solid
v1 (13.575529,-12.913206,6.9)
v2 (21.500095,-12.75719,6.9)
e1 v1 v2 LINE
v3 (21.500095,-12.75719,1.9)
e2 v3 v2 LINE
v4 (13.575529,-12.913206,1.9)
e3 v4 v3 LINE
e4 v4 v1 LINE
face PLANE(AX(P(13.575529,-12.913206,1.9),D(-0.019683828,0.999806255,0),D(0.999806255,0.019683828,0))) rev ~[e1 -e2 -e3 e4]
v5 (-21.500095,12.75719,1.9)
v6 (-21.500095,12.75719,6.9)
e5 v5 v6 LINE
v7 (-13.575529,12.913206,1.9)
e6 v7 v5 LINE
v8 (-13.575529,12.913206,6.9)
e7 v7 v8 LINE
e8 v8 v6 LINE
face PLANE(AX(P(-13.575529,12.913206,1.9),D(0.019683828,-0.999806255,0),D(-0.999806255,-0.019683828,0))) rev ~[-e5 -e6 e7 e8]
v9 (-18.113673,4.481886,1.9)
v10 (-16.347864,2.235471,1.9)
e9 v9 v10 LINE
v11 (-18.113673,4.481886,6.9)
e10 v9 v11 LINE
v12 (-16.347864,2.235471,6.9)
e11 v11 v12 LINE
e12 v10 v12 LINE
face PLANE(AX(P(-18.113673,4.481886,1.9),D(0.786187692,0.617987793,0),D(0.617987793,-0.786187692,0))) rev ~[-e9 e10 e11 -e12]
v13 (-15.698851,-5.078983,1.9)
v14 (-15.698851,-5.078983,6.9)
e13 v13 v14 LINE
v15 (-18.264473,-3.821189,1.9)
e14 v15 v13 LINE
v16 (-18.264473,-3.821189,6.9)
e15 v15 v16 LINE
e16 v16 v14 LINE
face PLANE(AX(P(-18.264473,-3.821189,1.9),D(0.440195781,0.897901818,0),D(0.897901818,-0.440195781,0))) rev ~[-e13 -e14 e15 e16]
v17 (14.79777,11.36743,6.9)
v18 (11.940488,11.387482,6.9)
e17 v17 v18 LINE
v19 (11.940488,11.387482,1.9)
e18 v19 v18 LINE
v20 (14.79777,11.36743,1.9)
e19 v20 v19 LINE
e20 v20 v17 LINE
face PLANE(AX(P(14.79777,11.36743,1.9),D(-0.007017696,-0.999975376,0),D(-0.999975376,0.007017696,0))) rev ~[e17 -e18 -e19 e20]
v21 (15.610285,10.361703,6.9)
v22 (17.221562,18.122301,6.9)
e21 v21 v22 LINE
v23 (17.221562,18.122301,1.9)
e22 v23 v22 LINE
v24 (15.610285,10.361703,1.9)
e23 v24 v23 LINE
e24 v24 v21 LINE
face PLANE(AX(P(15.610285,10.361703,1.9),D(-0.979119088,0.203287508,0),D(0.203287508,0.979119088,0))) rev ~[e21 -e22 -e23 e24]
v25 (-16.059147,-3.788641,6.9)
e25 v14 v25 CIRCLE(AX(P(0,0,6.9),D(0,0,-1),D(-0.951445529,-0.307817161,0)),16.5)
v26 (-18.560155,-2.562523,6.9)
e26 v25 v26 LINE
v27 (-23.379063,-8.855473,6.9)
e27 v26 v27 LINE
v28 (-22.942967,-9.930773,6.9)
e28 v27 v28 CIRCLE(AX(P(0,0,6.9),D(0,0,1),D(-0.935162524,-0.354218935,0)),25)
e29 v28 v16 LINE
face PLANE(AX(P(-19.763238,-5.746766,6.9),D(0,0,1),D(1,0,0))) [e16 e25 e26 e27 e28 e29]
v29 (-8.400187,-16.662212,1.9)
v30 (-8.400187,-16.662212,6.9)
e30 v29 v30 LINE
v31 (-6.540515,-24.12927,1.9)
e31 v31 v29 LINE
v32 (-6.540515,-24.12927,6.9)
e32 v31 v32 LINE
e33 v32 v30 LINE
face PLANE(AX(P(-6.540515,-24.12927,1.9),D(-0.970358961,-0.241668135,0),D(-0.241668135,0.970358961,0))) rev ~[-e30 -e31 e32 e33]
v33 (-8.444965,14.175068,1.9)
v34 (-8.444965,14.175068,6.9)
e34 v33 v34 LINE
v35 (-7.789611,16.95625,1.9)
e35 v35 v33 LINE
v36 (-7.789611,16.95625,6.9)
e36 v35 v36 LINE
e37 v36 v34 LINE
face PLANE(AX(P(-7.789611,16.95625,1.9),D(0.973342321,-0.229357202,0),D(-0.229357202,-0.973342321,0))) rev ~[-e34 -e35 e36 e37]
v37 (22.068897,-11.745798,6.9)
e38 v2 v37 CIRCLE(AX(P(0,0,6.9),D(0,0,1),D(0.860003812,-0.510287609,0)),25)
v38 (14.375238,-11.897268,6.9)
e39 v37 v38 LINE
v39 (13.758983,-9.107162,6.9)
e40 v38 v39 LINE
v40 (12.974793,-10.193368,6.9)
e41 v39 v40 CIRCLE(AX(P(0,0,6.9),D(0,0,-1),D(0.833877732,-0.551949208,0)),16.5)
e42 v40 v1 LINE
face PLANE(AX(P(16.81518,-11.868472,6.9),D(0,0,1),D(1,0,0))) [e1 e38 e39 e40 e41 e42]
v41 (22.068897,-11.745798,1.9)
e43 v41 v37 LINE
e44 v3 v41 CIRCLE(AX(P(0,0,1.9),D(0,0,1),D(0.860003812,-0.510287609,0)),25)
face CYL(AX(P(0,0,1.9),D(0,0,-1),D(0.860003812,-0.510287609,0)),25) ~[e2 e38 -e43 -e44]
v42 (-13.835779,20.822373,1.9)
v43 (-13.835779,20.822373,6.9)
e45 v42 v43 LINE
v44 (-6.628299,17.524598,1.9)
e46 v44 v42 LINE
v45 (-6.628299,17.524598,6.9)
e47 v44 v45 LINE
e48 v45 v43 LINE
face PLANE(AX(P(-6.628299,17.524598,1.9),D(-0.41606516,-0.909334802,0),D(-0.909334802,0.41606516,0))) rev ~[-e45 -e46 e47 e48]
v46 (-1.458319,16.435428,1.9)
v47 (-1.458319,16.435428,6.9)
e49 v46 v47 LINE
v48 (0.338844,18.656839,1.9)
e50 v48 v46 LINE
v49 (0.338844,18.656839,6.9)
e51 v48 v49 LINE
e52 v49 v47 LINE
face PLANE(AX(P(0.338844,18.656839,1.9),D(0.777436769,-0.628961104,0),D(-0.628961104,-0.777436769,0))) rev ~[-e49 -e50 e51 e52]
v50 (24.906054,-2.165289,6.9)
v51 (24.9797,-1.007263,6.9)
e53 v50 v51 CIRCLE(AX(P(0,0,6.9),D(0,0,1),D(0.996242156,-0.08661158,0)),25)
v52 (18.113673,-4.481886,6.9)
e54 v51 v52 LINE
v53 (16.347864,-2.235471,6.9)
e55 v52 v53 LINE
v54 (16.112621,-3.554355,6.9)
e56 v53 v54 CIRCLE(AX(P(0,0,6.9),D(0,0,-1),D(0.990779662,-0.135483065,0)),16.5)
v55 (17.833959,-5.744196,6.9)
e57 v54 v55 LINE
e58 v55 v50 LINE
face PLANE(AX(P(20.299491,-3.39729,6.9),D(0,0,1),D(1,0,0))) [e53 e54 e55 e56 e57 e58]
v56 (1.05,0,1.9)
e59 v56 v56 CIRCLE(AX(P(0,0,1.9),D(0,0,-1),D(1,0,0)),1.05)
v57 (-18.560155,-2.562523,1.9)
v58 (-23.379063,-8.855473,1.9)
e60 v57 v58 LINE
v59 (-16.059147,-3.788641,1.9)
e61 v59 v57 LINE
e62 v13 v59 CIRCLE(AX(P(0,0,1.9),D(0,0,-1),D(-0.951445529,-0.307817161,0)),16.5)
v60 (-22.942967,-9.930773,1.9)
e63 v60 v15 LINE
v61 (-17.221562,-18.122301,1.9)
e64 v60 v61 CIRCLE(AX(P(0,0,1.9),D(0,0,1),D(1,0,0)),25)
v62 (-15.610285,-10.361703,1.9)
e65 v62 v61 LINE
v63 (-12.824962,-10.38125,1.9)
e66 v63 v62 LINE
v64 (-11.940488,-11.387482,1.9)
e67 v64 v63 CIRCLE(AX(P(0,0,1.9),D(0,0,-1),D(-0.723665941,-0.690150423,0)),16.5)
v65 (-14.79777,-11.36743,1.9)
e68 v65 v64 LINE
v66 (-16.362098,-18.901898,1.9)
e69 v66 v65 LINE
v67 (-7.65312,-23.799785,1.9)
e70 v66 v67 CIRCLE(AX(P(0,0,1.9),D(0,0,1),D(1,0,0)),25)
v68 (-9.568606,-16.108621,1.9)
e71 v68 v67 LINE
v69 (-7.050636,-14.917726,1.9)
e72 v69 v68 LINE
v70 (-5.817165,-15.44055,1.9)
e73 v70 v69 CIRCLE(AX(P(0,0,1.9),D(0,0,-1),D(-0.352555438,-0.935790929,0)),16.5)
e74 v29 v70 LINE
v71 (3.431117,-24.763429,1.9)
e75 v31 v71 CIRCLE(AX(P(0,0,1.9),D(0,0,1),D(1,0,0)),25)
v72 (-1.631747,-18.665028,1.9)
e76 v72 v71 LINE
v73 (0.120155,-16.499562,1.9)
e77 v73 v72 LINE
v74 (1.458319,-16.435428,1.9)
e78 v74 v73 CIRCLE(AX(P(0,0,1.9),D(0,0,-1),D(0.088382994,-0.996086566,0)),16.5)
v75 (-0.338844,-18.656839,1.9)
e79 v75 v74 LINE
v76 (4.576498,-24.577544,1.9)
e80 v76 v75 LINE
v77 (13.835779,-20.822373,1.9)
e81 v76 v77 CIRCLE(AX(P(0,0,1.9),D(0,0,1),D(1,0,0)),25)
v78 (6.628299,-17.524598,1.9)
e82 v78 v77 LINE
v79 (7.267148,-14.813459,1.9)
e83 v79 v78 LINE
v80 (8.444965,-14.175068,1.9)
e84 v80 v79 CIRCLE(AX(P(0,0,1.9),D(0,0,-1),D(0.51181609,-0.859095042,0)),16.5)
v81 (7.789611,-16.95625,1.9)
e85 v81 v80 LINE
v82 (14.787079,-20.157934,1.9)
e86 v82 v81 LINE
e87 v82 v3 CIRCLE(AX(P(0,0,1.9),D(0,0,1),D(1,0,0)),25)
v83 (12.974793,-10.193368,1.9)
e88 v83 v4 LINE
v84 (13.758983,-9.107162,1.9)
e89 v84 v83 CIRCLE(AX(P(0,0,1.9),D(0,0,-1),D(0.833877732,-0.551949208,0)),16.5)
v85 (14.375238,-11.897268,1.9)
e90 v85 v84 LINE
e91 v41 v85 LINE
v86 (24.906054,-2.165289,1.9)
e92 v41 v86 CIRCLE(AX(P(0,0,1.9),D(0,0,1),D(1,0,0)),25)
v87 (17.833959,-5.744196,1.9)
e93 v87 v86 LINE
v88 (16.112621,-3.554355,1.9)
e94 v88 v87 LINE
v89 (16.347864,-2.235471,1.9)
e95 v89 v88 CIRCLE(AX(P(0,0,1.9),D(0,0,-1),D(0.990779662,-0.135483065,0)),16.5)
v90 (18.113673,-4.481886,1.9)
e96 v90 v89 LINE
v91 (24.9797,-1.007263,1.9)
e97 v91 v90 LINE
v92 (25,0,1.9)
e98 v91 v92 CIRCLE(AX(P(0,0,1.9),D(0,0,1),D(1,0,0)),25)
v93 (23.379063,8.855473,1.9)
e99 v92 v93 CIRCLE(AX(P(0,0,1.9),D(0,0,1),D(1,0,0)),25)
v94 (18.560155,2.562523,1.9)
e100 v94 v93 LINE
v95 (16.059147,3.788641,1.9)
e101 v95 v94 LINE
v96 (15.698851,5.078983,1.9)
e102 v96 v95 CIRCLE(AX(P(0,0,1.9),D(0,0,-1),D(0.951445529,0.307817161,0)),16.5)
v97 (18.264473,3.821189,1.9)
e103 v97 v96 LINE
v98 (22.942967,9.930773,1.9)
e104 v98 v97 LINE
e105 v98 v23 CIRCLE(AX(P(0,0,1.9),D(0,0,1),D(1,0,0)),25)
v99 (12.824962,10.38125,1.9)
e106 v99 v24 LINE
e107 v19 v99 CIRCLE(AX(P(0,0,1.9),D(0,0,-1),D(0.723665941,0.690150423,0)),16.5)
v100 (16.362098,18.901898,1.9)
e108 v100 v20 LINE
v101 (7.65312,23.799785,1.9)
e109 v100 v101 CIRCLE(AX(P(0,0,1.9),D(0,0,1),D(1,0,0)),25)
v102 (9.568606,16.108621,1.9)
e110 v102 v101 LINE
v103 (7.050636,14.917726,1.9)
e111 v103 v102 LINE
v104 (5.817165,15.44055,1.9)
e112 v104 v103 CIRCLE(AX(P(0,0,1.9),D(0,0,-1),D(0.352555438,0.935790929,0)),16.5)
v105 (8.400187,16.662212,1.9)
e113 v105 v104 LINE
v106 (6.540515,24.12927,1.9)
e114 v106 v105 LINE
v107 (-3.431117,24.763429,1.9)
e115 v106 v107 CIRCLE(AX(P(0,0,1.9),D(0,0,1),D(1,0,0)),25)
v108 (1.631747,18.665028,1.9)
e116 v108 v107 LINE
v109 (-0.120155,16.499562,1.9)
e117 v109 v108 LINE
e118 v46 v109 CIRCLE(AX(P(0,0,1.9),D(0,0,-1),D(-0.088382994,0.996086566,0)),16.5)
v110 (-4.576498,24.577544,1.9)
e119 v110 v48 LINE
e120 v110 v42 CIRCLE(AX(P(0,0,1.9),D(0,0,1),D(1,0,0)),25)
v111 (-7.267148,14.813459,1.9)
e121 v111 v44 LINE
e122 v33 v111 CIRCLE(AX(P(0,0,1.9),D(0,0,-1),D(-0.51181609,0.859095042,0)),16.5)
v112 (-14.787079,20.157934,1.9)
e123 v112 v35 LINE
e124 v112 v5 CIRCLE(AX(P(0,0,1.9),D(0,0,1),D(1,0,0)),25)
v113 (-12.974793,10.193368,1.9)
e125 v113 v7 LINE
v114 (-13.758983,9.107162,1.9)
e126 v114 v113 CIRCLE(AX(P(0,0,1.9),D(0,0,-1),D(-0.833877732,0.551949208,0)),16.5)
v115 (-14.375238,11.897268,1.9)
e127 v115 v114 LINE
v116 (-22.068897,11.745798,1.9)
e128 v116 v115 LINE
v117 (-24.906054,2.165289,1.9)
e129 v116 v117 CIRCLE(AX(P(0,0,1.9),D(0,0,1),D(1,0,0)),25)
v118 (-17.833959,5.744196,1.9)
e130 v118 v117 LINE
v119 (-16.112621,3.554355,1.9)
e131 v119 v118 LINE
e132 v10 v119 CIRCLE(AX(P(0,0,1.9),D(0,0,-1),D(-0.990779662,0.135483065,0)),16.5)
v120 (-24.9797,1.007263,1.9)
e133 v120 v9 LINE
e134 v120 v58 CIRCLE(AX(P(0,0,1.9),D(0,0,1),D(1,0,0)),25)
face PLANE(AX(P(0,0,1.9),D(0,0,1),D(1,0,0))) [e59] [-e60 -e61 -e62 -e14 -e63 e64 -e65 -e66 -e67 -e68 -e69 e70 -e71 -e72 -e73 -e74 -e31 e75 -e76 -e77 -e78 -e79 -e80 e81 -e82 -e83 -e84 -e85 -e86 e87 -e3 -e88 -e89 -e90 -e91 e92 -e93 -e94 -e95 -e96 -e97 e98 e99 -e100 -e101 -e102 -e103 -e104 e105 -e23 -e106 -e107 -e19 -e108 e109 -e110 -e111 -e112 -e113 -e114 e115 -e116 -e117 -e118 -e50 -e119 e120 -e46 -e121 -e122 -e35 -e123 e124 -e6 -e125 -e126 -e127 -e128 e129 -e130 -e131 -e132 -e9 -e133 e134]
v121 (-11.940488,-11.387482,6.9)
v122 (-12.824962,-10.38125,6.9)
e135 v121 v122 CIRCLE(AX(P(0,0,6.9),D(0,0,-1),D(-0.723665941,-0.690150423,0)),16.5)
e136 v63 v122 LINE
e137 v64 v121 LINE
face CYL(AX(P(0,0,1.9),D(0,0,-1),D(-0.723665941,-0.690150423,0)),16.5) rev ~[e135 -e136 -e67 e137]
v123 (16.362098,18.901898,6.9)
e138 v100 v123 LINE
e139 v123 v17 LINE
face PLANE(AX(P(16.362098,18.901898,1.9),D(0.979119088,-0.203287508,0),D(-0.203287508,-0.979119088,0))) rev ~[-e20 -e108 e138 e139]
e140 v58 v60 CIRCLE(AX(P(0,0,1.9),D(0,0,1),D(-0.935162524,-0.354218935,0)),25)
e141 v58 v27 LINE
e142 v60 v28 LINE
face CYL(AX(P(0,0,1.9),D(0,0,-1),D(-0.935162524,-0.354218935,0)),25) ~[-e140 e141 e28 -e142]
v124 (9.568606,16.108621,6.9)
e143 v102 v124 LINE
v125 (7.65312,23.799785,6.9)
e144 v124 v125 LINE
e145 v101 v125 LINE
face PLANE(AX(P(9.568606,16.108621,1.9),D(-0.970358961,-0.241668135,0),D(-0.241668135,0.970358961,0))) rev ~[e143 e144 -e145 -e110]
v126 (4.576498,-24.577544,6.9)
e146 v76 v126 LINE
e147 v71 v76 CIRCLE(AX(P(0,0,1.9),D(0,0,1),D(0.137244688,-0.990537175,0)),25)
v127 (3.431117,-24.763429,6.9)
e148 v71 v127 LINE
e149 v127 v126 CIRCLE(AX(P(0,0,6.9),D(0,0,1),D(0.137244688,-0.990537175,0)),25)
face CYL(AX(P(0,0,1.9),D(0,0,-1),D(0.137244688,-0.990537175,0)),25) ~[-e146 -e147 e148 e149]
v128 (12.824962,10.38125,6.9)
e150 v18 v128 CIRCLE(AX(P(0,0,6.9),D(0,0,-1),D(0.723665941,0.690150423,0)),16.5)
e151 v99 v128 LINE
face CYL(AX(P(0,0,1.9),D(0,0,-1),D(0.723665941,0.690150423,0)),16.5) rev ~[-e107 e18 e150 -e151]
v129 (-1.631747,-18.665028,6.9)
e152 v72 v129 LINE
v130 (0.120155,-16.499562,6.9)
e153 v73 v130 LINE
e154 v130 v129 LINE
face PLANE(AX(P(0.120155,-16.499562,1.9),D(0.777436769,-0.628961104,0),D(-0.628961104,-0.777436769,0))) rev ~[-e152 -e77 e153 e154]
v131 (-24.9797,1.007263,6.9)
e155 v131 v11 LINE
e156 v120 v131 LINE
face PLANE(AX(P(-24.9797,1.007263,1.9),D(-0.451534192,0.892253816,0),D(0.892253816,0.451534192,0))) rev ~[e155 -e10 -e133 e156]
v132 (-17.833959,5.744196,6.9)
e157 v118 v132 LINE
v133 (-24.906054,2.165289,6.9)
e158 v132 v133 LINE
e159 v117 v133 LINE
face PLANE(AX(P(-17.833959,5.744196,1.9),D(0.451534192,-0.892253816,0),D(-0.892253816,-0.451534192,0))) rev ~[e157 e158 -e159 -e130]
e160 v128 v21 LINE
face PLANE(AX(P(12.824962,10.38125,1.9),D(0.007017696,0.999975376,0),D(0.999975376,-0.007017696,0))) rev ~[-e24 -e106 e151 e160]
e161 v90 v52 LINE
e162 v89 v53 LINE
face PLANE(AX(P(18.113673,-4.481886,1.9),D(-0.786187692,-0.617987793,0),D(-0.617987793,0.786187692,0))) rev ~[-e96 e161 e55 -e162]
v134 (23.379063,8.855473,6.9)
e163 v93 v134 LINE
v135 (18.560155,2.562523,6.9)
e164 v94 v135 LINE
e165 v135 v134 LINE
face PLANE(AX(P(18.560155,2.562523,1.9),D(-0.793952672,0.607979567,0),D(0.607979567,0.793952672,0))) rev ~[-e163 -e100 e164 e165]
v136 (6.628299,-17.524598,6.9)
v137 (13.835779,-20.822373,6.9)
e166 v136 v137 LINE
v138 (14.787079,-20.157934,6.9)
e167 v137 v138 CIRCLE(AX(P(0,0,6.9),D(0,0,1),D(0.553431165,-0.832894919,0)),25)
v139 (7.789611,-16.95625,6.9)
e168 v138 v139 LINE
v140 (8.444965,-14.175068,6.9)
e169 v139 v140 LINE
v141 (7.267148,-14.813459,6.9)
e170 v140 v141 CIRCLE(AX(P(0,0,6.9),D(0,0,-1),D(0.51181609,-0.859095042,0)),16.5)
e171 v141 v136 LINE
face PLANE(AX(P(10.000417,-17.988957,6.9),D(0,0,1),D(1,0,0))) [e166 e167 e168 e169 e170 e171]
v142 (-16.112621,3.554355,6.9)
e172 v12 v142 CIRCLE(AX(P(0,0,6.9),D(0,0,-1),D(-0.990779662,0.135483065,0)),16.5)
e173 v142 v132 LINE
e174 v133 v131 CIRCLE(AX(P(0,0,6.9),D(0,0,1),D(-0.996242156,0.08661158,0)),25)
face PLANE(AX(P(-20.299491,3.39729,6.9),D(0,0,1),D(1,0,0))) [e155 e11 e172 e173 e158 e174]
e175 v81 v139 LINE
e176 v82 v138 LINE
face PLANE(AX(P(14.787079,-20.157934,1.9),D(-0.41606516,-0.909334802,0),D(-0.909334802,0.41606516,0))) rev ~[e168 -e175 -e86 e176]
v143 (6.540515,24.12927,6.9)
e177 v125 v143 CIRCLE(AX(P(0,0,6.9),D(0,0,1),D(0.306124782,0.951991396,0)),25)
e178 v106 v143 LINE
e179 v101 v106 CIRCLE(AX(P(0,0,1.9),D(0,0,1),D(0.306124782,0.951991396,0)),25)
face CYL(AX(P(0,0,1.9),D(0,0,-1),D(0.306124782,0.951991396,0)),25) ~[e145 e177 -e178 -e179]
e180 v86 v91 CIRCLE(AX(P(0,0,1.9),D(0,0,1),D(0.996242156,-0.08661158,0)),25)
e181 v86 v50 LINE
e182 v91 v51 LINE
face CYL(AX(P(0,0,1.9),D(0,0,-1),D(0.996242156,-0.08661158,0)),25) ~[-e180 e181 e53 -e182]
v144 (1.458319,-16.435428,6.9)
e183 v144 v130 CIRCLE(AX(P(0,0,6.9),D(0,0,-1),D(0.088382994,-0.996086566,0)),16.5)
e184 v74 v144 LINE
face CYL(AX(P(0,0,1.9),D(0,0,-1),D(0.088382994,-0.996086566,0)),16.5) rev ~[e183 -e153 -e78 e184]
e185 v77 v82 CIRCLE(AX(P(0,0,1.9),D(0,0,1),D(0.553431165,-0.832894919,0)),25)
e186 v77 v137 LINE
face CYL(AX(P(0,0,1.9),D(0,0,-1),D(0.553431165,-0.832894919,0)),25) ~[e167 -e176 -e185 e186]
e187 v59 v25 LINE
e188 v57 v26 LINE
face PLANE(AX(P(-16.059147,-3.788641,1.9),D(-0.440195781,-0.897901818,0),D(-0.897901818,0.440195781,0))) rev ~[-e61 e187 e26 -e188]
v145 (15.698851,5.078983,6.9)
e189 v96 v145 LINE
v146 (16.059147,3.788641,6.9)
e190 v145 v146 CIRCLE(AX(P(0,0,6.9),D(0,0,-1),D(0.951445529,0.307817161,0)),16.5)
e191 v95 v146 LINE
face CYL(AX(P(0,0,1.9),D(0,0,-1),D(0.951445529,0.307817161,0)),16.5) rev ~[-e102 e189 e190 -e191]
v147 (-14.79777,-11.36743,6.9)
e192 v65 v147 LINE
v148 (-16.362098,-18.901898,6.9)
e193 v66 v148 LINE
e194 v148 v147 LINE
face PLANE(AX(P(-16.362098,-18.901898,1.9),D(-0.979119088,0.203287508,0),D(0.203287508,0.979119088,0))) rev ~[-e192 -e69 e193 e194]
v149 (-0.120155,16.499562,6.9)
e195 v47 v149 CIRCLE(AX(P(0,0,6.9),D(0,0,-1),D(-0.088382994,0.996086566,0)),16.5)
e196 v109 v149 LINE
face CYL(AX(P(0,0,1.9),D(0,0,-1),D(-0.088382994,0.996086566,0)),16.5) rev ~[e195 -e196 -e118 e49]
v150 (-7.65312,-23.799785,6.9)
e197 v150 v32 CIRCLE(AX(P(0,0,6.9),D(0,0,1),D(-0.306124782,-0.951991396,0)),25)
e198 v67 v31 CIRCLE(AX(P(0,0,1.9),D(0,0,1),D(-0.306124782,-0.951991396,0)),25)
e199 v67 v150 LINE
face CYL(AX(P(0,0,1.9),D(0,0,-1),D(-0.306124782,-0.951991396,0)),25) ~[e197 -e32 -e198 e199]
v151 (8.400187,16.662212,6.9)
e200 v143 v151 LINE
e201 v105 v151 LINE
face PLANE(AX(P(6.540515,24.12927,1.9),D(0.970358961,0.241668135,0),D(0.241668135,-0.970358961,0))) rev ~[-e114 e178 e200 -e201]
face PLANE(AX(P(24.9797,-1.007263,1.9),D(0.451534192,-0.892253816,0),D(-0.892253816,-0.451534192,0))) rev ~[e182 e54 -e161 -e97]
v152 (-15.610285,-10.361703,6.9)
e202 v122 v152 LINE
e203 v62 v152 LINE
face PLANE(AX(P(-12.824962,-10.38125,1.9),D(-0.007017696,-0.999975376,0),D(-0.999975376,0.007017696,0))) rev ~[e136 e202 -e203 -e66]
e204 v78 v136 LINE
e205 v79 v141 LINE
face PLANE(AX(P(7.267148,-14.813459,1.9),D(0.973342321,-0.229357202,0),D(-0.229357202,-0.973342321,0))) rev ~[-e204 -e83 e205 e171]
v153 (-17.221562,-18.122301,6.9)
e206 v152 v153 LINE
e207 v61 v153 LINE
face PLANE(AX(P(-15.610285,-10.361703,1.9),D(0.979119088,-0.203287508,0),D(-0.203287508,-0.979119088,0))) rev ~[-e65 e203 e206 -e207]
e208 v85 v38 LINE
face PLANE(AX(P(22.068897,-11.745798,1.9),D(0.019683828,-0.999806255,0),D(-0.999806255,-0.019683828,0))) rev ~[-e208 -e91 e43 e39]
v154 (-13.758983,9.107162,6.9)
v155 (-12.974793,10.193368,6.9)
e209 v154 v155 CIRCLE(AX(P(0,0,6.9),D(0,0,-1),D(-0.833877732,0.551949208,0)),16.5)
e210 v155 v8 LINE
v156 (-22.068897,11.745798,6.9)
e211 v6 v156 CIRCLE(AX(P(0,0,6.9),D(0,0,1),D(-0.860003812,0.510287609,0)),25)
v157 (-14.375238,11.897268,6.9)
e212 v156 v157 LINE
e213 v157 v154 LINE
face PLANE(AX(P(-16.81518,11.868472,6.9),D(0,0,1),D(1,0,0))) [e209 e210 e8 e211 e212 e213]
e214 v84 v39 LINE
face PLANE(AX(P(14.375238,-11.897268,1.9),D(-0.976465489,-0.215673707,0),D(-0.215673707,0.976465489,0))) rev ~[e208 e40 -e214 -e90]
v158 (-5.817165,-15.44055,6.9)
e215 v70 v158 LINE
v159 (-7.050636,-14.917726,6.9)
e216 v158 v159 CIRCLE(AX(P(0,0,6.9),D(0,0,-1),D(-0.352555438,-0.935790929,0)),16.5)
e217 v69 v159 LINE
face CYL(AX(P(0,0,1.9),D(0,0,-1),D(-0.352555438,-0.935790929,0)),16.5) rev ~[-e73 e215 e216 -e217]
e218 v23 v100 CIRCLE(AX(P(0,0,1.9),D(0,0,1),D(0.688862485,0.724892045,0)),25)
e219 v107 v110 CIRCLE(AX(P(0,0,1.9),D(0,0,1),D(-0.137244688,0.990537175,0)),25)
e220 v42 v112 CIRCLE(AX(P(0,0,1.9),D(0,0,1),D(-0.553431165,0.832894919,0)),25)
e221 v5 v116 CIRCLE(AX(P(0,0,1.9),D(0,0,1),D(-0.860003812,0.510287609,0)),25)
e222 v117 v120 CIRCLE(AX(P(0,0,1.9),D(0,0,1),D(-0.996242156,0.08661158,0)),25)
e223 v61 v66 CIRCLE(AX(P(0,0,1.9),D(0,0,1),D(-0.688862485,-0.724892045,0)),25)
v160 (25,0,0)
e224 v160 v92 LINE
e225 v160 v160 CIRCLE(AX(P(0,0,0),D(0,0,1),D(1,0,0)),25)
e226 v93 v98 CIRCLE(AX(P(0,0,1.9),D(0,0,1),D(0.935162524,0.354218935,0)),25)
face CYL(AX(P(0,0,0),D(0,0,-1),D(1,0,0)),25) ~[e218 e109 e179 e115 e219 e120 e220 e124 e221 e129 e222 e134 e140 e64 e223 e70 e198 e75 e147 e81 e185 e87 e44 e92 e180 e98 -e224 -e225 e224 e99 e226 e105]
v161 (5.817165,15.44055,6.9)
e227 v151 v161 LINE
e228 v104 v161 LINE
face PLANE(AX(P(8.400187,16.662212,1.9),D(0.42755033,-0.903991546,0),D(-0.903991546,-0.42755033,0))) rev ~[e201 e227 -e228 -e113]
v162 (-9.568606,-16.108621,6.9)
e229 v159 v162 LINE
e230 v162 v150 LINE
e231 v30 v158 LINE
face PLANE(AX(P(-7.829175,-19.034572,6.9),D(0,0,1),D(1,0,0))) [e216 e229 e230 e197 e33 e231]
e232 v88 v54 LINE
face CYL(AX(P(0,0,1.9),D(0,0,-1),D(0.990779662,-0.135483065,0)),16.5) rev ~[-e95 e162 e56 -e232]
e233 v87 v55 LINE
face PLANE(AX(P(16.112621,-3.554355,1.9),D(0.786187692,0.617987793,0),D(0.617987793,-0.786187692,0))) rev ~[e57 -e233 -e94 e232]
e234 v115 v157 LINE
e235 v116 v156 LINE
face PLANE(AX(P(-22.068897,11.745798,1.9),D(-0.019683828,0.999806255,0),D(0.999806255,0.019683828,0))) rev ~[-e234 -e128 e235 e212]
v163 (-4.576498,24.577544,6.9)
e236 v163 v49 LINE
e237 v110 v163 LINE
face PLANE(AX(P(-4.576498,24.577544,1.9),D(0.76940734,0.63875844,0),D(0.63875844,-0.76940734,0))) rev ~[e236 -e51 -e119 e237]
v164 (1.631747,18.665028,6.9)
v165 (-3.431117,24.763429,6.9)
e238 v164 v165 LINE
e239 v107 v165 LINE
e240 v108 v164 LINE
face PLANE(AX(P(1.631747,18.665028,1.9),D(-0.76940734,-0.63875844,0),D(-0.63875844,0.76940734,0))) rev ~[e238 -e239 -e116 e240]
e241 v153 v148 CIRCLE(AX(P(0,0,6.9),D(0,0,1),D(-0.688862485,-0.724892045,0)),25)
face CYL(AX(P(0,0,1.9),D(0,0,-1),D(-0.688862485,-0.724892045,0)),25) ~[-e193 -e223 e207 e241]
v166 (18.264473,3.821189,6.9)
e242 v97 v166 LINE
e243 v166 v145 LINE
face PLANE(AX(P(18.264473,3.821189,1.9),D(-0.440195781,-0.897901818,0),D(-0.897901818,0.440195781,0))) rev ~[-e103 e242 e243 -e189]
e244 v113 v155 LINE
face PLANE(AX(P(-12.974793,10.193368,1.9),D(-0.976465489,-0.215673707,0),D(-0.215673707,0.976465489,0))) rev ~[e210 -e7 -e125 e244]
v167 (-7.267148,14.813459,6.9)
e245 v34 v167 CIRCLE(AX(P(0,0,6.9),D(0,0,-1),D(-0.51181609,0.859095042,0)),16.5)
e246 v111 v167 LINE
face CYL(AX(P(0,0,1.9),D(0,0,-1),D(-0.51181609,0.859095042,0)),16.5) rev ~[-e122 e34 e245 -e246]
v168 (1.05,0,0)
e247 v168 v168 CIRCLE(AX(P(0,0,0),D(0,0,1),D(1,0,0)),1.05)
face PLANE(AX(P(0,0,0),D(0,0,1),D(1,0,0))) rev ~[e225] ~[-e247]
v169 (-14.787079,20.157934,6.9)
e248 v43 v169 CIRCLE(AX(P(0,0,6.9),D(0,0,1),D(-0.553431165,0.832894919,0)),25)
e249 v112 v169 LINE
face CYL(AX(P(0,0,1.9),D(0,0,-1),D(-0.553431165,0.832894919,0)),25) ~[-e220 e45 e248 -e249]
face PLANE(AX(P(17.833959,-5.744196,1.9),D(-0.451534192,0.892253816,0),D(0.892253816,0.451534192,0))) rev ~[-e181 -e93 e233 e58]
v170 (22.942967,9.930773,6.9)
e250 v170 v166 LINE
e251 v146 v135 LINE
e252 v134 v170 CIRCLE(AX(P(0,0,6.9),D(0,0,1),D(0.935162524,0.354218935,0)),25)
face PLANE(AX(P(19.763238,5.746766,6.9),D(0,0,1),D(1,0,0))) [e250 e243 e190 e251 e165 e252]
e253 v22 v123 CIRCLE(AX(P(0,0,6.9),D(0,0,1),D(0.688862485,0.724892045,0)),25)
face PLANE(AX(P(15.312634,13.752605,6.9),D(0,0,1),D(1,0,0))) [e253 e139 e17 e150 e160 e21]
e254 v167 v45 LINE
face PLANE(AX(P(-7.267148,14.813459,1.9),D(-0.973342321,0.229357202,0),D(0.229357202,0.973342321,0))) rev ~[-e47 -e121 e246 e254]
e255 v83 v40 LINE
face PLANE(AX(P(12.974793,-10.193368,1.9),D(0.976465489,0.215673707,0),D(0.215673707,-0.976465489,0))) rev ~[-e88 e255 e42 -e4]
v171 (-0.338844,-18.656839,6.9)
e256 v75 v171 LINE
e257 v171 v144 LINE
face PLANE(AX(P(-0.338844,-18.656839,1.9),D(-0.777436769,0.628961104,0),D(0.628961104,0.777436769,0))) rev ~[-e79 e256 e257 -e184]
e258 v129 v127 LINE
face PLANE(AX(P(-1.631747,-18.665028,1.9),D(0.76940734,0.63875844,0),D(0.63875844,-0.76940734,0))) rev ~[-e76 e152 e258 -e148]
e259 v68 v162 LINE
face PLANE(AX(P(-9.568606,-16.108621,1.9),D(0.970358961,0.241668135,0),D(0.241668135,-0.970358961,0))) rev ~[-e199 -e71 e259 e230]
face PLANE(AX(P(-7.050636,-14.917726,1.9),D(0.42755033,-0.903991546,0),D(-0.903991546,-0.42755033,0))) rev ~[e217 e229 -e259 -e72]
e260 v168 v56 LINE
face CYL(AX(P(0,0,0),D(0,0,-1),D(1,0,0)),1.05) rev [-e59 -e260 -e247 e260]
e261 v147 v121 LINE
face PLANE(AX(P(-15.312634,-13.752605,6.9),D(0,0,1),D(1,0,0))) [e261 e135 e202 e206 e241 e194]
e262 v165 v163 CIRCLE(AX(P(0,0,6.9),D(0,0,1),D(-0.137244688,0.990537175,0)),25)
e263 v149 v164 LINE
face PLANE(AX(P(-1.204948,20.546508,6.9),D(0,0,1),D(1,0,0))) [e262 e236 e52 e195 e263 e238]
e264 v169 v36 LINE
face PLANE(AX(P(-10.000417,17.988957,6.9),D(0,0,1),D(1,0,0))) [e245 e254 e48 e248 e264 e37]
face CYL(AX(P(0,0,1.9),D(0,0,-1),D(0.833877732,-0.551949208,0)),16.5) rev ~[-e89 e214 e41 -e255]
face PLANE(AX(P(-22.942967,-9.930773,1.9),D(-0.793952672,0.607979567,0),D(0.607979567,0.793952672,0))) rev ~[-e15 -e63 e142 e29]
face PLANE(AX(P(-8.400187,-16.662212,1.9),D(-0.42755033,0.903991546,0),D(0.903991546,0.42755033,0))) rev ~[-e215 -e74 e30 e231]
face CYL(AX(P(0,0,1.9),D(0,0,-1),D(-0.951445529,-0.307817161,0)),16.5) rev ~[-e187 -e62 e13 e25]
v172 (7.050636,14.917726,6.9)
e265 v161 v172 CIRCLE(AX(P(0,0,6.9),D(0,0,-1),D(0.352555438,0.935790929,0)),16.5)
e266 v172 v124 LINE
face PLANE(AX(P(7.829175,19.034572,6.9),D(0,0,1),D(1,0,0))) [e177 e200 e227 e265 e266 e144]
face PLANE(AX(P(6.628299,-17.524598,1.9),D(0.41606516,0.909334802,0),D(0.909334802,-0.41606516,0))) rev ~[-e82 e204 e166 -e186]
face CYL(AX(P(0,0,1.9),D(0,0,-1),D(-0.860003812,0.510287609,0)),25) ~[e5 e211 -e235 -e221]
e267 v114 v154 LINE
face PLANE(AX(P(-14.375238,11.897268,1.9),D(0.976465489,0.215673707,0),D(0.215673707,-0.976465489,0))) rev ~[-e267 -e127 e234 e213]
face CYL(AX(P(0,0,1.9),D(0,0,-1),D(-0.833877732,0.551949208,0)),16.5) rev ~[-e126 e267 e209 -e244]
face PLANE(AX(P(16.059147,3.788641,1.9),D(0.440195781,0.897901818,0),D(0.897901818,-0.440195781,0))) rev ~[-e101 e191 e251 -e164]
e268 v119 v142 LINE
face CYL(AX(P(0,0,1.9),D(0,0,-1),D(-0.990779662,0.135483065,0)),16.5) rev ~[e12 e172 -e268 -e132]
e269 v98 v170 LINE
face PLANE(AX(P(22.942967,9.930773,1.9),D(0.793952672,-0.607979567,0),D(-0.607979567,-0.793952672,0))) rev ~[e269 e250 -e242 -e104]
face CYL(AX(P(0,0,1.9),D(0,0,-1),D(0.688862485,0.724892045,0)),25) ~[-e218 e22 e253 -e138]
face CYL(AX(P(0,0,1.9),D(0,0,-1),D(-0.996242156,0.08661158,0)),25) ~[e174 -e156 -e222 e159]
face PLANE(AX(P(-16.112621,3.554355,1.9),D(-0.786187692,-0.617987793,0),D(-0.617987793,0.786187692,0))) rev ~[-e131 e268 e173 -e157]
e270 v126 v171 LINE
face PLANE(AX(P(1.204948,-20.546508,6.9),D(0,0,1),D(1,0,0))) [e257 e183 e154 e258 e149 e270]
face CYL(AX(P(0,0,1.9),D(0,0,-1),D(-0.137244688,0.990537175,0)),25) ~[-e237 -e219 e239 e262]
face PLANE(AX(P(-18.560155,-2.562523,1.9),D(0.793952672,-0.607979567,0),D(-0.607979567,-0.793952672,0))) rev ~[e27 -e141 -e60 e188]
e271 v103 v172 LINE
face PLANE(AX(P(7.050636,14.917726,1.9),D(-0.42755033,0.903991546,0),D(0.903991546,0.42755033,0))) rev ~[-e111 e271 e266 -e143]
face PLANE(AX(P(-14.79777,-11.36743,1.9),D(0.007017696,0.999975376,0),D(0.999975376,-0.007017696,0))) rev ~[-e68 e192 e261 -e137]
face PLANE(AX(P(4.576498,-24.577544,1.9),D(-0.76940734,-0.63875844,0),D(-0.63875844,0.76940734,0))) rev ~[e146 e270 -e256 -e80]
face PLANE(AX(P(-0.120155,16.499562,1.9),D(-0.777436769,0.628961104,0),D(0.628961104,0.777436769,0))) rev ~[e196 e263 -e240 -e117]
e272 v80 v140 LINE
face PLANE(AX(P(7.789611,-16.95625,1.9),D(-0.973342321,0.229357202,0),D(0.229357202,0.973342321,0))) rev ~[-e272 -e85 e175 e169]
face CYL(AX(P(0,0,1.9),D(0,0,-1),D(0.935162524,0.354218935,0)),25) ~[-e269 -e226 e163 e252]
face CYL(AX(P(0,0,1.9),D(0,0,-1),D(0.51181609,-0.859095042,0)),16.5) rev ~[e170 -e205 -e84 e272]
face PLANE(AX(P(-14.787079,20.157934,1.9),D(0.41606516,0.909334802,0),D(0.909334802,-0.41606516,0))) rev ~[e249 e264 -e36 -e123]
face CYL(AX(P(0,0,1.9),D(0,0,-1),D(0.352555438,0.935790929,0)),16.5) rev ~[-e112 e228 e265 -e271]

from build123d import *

# Parameters (mm, degrees)
F0_R     = 25
F1_DEPTH = 1.9
F2_R     = 1.05
F3_DEPTH = 25.4
F5_DEPTH = 5


with BuildPart() as f1:
    # F0 (on Top) → F1 (new body)
    with BuildSketch(Plane.XY):
        Circle(F0_R)
    extrude(amount=F1_DEPTH)

    # F2 (on Top) → F3 (cut)
    with BuildSketch(Plane.XY):
        Circle(F2_R)
    extrude(amount=F3_DEPTH, mode=Mode.SUBTRACT)

    # F4 (on face) → F5 (join)
    with BuildSketch(Plane.XY.offset(1.9)):
        with BuildLine():
            ThreePointArc((-8.4449654791, 14.1750681853), (-7.8625386646, 14.5062223114), (-7.267148147, 14.8134586714))
            Line((-7.267148147, 14.8134586714), (-6.6282985683, 17.5245980034))
            Line((-6.6282985683, 17.5245980034), (-13.8357791201, 20.8223729709))
            ThreePointArc((-13.8357791201, 20.8223729709), (-14.3152843529, 20.4956735409), (-14.7870786227, 20.1579340659))
            Line((-14.7870786227, 20.1579340659), (-7.7896110966, 16.9562503322))
            Line((-7.7896110966, 16.9562503322), (-8.4449654791, 14.1750681853))
        make_face()
        with BuildLine():
            ThreePointArc((-1.4583194007, 16.4354283341), (-0.7898885826, 16.4810823682), (-0.1201554013, 16.4995624996))
            Line((-0.1201554013, 16.4995624996), (1.631747451, 18.6650281904))
            Line((1.631747451, 18.6650281904), (-3.4311172084, 24.7634293809))
            ThreePointArc((-3.4311172084, 24.7634293809), (-4.0048860655, 24.6771328886), (-4.5764976809, 24.5775439981))
            Line((-4.5764976809, 24.5775439981), (0.3388442045, 18.6568392545))
            Line((0.3388442045, 18.6568392545), (-1.4583194007, 16.4354283341))
        make_face()
        with BuildLine():
            ThreePointArc((5.8171647201, 15.4405503341), (6.4392086206, 15.1916619348), (7.0506355953, 14.917725621))
            Line((7.0506355953, 14.917725621), (9.5686058756, 16.1086206327))
            Line((9.5686058756, 16.1086206327), (7.6531195462, 23.7997848984))
            ThreePointArc((7.6531195462, 23.7997848984), (7.0987290239, 23.9709834226), (6.5405147537, 24.1292699176))
            Line((6.5405147537, 24.1292699176), (8.4001872552, 16.6622123514))
            Line((8.4001872552, 16.6622123514), (5.8171647201, 15.4405503341))
        make_face()
        with BuildLine():
            ThreePointArc((11.9404880253, 11.3874819745), (12.3929415847, 10.8933465417), (12.8249617418, 10.3812502291))
            Line((12.8249617418, 10.3812502291), (15.6102845553, 10.3617031995))
            Line((15.6102845553, 10.3617031995), (17.2215621154, 18.1223011316))
            ThreePointArc((17.2215621154, 18.1223011316), (16.7963537699, 18.5170867049), (16.3620980272, 18.9018980039))
            Line((16.3620980272, 18.9018980039), (14.7977701984, 11.3674299434))
            Line((14.7977701984, 11.3674299434), (11.9404880253, 11.3874819745))
        make_face()
        with BuildLine():
            ThreePointArc((15.6988512365, 5.0789831515), (15.8921004786, 4.4374702679), (16.0591469276, 3.7886409118))
            Line((16.0591469276, 3.7886409118), (18.5601549312, 2.5625233696))
            Line((18.5601549312, 2.5625233696), (23.379063099, 8.8554733703))
            ThreePointArc((23.379063099, 8.8554733703), (23.167254658, 9.3956538681), (22.9429671184, 9.9307733739))
            Line((22.9429671184, 9.9307733739), (18.2644732712, 3.8211886228))
            Line((18.2644732712, 3.8211886228), (15.6988512365, 5.0789831515))
        make_face()
        with BuildLine():
            Line((18.1136734135, -4.4818859684), (16.3478644266, -2.2354705742))
            ThreePointArc((16.3478644266, -2.2354705742), (16.2436339688, -2.8973014145), (16.1126211118, -3.5543552028))
            Line((16.1126211118, -3.5543552028), (17.8339589977, -5.7441956409))
            Line((17.8339589977, -5.7441956409), (24.9060539105, -2.1652894973))
            ThreePointArc((24.9060539105, -2.1652894973), (24.9495966334, -1.5867034474), (24.9797001948, -1.0072627157))
            Line((24.9797001948, -1.0072627157), (18.1136734135, -4.4818859684))
        make_face()
        with BuildLine():
            Line((14.3752383867, -11.8972680768), (13.7589825736, -9.1071619365))
            ThreePointArc((13.7589825736, -9.1071619365), (13.3779165365, -9.6582270186), (12.9747930765, -10.1933676782))
            Line((12.9747930765, -10.1933676782), (13.5755287655, -12.9132062568))
            Line((13.5755287655, -12.9132062568), (21.5000952923, -12.7571902244))
            ThreePointArc((21.5000952923, -12.7571902244), (21.7903650088, -12.2547946855), (22.0688972917, -11.7457980712))
            Line((22.0688972917, -11.7457980712), (14.3752383867, -11.8972680768))
        make_face()
        with BuildLine():
            Line((7.7896110966, -16.9562503322), (8.4449654791, -14.1750681853))
            ThreePointArc((8.4449654791, -14.1750681853), (7.8625386646, -14.5062223114), (7.267148147, -14.8134586714))
            Line((7.267148147, -14.8134586714), (6.6282985683, -17.5245980034))
            Line((6.6282985683, -17.5245980034), (13.8357791201, -20.8223729709))
            ThreePointArc((13.8357791201, -20.8223729709), (14.3152843529, -20.4956735409), (14.7870786227, -20.1579340659))
            Line((14.7870786227, -20.1579340659), (7.7896110966, -16.9562503322))
        make_face()
        with BuildLine():
            Line((-0.3388442045, -18.6568392545), (1.4583194007, -16.4354283341))
            ThreePointArc((1.4583194007, -16.4354283341), (0.7898885826, -16.4810823682), (0.1201554013, -16.4995624996))
            Line((0.1201554013, -16.4995624996), (-1.631747451, -18.6650281904))
            Line((-1.631747451, -18.6650281904), (3.4311172084, -24.7634293809))
            ThreePointArc((3.4311172084, -24.7634293809), (4.0048860655, -24.6771328886), (4.5764976809, -24.5775439981))
            Line((4.5764976809, -24.5775439981), (-0.3388442045, -18.6568392545))
        make_face()
        with BuildLine():
            Line((-8.4001872552, -16.6622123514), (-5.8171647201, -15.4405503341))
            ThreePointArc((-5.8171647201, -15.4405503341), (-6.4392086206, -15.1916619348), (-7.0506355953, -14.917725621))
            Line((-7.0506355953, -14.917725621), (-9.5686058756, -16.1086206327))
            Line((-9.5686058756, -16.1086206327), (-7.6531195462, -23.7997848984))
            ThreePointArc((-7.6531195462, -23.7997848984), (-7.0987290239, -23.9709834226), (-6.5405147537, -24.1292699176))
            Line((-6.5405147537, -24.1292699176), (-8.4001872552, -16.6622123514))
        make_face()
        with BuildLine():
            Line((-14.7977701984, -11.3674299434), (-11.9404880253, -11.3874819745))
            ThreePointArc((-11.9404880253, -11.3874819745), (-12.3929415847, -10.8933465417), (-12.8249617418, -10.3812502291))
            Line((-12.8249617418, -10.3812502291), (-15.6102845553, -10.3617031995))
            Line((-15.6102845553, -10.3617031995), (-17.2215621154, -18.1223011316))
            ThreePointArc((-17.2215621154, -18.1223011316), (-16.7963537699, -18.5170867049), (-16.3620980272, -18.9018980039))
            Line((-16.3620980272, -18.9018980039), (-14.7977701984, -11.3674299434))
        make_face()
        with BuildLine():
            Line((-18.2644732712, -3.8211886228), (-15.6988512365, -5.0789831515))
            ThreePointArc((-15.6988512365, -5.0789831515), (-15.8921004786, -4.4374702679), (-16.0591469276, -3.7886409118))
            Line((-16.0591469276, -3.7886409118), (-18.5601549312, -2.5625233696))
            Line((-18.5601549312, -2.5625233696), (-23.379063099, -8.8554733703))
            ThreePointArc((-23.379063099, -8.8554733703), (-23.167254658, -9.3956538681), (-22.9429671184, -9.9307733739))
            Line((-22.9429671184, -9.9307733739), (-18.2644732712, -3.8211886228))
        make_face()
        with BuildLine():
            ThreePointArc((-16.3478644266, 2.2354705742), (-16.2436339688, 2.8973014145), (-16.1126211118, 3.5543552028))
            Line((-16.1126211118, 3.5543552028), (-17.8339589977, 5.7441956409))
            Line((-17.8339589977, 5.7441956409), (-24.9060539105, 2.1652894973))
            ThreePointArc((-24.9060539105, 2.1652894973), (-24.9495966334, 1.5867034474), (-24.9797001948, 1.0072627157))
            Line((-24.9797001948, 1.0072627157), (-18.1136734135, 4.4818859684))
            Line((-18.1136734135, 4.4818859684), (-16.3478644266, 2.2354705742))
        make_face()
        with BuildLine():
            ThreePointArc((-13.7589825736, 9.1071619365), (-13.3779165365, 9.6582270186), (-12.9747930765, 10.1933676782))
            Line((-12.9747930765, 10.1933676782), (-13.5755287655, 12.9132062568))
            Line((-13.5755287655, 12.9132062568), (-21.5000952923, 12.7571902244))
            ThreePointArc((-21.5000952923, 12.7571902244), (-21.7903650088, 12.2547946855), (-22.0688972917, 11.7457980712))
            Line((-22.0688972917, 11.7457980712), (-14.3752383867, 11.8972680768))
            Line((-14.3752383867, 11.8972680768), (-13.7589825736, 9.1071619365))
        make_face()
    extrude(amount=F5_DEPTH)


solid = f1.part
